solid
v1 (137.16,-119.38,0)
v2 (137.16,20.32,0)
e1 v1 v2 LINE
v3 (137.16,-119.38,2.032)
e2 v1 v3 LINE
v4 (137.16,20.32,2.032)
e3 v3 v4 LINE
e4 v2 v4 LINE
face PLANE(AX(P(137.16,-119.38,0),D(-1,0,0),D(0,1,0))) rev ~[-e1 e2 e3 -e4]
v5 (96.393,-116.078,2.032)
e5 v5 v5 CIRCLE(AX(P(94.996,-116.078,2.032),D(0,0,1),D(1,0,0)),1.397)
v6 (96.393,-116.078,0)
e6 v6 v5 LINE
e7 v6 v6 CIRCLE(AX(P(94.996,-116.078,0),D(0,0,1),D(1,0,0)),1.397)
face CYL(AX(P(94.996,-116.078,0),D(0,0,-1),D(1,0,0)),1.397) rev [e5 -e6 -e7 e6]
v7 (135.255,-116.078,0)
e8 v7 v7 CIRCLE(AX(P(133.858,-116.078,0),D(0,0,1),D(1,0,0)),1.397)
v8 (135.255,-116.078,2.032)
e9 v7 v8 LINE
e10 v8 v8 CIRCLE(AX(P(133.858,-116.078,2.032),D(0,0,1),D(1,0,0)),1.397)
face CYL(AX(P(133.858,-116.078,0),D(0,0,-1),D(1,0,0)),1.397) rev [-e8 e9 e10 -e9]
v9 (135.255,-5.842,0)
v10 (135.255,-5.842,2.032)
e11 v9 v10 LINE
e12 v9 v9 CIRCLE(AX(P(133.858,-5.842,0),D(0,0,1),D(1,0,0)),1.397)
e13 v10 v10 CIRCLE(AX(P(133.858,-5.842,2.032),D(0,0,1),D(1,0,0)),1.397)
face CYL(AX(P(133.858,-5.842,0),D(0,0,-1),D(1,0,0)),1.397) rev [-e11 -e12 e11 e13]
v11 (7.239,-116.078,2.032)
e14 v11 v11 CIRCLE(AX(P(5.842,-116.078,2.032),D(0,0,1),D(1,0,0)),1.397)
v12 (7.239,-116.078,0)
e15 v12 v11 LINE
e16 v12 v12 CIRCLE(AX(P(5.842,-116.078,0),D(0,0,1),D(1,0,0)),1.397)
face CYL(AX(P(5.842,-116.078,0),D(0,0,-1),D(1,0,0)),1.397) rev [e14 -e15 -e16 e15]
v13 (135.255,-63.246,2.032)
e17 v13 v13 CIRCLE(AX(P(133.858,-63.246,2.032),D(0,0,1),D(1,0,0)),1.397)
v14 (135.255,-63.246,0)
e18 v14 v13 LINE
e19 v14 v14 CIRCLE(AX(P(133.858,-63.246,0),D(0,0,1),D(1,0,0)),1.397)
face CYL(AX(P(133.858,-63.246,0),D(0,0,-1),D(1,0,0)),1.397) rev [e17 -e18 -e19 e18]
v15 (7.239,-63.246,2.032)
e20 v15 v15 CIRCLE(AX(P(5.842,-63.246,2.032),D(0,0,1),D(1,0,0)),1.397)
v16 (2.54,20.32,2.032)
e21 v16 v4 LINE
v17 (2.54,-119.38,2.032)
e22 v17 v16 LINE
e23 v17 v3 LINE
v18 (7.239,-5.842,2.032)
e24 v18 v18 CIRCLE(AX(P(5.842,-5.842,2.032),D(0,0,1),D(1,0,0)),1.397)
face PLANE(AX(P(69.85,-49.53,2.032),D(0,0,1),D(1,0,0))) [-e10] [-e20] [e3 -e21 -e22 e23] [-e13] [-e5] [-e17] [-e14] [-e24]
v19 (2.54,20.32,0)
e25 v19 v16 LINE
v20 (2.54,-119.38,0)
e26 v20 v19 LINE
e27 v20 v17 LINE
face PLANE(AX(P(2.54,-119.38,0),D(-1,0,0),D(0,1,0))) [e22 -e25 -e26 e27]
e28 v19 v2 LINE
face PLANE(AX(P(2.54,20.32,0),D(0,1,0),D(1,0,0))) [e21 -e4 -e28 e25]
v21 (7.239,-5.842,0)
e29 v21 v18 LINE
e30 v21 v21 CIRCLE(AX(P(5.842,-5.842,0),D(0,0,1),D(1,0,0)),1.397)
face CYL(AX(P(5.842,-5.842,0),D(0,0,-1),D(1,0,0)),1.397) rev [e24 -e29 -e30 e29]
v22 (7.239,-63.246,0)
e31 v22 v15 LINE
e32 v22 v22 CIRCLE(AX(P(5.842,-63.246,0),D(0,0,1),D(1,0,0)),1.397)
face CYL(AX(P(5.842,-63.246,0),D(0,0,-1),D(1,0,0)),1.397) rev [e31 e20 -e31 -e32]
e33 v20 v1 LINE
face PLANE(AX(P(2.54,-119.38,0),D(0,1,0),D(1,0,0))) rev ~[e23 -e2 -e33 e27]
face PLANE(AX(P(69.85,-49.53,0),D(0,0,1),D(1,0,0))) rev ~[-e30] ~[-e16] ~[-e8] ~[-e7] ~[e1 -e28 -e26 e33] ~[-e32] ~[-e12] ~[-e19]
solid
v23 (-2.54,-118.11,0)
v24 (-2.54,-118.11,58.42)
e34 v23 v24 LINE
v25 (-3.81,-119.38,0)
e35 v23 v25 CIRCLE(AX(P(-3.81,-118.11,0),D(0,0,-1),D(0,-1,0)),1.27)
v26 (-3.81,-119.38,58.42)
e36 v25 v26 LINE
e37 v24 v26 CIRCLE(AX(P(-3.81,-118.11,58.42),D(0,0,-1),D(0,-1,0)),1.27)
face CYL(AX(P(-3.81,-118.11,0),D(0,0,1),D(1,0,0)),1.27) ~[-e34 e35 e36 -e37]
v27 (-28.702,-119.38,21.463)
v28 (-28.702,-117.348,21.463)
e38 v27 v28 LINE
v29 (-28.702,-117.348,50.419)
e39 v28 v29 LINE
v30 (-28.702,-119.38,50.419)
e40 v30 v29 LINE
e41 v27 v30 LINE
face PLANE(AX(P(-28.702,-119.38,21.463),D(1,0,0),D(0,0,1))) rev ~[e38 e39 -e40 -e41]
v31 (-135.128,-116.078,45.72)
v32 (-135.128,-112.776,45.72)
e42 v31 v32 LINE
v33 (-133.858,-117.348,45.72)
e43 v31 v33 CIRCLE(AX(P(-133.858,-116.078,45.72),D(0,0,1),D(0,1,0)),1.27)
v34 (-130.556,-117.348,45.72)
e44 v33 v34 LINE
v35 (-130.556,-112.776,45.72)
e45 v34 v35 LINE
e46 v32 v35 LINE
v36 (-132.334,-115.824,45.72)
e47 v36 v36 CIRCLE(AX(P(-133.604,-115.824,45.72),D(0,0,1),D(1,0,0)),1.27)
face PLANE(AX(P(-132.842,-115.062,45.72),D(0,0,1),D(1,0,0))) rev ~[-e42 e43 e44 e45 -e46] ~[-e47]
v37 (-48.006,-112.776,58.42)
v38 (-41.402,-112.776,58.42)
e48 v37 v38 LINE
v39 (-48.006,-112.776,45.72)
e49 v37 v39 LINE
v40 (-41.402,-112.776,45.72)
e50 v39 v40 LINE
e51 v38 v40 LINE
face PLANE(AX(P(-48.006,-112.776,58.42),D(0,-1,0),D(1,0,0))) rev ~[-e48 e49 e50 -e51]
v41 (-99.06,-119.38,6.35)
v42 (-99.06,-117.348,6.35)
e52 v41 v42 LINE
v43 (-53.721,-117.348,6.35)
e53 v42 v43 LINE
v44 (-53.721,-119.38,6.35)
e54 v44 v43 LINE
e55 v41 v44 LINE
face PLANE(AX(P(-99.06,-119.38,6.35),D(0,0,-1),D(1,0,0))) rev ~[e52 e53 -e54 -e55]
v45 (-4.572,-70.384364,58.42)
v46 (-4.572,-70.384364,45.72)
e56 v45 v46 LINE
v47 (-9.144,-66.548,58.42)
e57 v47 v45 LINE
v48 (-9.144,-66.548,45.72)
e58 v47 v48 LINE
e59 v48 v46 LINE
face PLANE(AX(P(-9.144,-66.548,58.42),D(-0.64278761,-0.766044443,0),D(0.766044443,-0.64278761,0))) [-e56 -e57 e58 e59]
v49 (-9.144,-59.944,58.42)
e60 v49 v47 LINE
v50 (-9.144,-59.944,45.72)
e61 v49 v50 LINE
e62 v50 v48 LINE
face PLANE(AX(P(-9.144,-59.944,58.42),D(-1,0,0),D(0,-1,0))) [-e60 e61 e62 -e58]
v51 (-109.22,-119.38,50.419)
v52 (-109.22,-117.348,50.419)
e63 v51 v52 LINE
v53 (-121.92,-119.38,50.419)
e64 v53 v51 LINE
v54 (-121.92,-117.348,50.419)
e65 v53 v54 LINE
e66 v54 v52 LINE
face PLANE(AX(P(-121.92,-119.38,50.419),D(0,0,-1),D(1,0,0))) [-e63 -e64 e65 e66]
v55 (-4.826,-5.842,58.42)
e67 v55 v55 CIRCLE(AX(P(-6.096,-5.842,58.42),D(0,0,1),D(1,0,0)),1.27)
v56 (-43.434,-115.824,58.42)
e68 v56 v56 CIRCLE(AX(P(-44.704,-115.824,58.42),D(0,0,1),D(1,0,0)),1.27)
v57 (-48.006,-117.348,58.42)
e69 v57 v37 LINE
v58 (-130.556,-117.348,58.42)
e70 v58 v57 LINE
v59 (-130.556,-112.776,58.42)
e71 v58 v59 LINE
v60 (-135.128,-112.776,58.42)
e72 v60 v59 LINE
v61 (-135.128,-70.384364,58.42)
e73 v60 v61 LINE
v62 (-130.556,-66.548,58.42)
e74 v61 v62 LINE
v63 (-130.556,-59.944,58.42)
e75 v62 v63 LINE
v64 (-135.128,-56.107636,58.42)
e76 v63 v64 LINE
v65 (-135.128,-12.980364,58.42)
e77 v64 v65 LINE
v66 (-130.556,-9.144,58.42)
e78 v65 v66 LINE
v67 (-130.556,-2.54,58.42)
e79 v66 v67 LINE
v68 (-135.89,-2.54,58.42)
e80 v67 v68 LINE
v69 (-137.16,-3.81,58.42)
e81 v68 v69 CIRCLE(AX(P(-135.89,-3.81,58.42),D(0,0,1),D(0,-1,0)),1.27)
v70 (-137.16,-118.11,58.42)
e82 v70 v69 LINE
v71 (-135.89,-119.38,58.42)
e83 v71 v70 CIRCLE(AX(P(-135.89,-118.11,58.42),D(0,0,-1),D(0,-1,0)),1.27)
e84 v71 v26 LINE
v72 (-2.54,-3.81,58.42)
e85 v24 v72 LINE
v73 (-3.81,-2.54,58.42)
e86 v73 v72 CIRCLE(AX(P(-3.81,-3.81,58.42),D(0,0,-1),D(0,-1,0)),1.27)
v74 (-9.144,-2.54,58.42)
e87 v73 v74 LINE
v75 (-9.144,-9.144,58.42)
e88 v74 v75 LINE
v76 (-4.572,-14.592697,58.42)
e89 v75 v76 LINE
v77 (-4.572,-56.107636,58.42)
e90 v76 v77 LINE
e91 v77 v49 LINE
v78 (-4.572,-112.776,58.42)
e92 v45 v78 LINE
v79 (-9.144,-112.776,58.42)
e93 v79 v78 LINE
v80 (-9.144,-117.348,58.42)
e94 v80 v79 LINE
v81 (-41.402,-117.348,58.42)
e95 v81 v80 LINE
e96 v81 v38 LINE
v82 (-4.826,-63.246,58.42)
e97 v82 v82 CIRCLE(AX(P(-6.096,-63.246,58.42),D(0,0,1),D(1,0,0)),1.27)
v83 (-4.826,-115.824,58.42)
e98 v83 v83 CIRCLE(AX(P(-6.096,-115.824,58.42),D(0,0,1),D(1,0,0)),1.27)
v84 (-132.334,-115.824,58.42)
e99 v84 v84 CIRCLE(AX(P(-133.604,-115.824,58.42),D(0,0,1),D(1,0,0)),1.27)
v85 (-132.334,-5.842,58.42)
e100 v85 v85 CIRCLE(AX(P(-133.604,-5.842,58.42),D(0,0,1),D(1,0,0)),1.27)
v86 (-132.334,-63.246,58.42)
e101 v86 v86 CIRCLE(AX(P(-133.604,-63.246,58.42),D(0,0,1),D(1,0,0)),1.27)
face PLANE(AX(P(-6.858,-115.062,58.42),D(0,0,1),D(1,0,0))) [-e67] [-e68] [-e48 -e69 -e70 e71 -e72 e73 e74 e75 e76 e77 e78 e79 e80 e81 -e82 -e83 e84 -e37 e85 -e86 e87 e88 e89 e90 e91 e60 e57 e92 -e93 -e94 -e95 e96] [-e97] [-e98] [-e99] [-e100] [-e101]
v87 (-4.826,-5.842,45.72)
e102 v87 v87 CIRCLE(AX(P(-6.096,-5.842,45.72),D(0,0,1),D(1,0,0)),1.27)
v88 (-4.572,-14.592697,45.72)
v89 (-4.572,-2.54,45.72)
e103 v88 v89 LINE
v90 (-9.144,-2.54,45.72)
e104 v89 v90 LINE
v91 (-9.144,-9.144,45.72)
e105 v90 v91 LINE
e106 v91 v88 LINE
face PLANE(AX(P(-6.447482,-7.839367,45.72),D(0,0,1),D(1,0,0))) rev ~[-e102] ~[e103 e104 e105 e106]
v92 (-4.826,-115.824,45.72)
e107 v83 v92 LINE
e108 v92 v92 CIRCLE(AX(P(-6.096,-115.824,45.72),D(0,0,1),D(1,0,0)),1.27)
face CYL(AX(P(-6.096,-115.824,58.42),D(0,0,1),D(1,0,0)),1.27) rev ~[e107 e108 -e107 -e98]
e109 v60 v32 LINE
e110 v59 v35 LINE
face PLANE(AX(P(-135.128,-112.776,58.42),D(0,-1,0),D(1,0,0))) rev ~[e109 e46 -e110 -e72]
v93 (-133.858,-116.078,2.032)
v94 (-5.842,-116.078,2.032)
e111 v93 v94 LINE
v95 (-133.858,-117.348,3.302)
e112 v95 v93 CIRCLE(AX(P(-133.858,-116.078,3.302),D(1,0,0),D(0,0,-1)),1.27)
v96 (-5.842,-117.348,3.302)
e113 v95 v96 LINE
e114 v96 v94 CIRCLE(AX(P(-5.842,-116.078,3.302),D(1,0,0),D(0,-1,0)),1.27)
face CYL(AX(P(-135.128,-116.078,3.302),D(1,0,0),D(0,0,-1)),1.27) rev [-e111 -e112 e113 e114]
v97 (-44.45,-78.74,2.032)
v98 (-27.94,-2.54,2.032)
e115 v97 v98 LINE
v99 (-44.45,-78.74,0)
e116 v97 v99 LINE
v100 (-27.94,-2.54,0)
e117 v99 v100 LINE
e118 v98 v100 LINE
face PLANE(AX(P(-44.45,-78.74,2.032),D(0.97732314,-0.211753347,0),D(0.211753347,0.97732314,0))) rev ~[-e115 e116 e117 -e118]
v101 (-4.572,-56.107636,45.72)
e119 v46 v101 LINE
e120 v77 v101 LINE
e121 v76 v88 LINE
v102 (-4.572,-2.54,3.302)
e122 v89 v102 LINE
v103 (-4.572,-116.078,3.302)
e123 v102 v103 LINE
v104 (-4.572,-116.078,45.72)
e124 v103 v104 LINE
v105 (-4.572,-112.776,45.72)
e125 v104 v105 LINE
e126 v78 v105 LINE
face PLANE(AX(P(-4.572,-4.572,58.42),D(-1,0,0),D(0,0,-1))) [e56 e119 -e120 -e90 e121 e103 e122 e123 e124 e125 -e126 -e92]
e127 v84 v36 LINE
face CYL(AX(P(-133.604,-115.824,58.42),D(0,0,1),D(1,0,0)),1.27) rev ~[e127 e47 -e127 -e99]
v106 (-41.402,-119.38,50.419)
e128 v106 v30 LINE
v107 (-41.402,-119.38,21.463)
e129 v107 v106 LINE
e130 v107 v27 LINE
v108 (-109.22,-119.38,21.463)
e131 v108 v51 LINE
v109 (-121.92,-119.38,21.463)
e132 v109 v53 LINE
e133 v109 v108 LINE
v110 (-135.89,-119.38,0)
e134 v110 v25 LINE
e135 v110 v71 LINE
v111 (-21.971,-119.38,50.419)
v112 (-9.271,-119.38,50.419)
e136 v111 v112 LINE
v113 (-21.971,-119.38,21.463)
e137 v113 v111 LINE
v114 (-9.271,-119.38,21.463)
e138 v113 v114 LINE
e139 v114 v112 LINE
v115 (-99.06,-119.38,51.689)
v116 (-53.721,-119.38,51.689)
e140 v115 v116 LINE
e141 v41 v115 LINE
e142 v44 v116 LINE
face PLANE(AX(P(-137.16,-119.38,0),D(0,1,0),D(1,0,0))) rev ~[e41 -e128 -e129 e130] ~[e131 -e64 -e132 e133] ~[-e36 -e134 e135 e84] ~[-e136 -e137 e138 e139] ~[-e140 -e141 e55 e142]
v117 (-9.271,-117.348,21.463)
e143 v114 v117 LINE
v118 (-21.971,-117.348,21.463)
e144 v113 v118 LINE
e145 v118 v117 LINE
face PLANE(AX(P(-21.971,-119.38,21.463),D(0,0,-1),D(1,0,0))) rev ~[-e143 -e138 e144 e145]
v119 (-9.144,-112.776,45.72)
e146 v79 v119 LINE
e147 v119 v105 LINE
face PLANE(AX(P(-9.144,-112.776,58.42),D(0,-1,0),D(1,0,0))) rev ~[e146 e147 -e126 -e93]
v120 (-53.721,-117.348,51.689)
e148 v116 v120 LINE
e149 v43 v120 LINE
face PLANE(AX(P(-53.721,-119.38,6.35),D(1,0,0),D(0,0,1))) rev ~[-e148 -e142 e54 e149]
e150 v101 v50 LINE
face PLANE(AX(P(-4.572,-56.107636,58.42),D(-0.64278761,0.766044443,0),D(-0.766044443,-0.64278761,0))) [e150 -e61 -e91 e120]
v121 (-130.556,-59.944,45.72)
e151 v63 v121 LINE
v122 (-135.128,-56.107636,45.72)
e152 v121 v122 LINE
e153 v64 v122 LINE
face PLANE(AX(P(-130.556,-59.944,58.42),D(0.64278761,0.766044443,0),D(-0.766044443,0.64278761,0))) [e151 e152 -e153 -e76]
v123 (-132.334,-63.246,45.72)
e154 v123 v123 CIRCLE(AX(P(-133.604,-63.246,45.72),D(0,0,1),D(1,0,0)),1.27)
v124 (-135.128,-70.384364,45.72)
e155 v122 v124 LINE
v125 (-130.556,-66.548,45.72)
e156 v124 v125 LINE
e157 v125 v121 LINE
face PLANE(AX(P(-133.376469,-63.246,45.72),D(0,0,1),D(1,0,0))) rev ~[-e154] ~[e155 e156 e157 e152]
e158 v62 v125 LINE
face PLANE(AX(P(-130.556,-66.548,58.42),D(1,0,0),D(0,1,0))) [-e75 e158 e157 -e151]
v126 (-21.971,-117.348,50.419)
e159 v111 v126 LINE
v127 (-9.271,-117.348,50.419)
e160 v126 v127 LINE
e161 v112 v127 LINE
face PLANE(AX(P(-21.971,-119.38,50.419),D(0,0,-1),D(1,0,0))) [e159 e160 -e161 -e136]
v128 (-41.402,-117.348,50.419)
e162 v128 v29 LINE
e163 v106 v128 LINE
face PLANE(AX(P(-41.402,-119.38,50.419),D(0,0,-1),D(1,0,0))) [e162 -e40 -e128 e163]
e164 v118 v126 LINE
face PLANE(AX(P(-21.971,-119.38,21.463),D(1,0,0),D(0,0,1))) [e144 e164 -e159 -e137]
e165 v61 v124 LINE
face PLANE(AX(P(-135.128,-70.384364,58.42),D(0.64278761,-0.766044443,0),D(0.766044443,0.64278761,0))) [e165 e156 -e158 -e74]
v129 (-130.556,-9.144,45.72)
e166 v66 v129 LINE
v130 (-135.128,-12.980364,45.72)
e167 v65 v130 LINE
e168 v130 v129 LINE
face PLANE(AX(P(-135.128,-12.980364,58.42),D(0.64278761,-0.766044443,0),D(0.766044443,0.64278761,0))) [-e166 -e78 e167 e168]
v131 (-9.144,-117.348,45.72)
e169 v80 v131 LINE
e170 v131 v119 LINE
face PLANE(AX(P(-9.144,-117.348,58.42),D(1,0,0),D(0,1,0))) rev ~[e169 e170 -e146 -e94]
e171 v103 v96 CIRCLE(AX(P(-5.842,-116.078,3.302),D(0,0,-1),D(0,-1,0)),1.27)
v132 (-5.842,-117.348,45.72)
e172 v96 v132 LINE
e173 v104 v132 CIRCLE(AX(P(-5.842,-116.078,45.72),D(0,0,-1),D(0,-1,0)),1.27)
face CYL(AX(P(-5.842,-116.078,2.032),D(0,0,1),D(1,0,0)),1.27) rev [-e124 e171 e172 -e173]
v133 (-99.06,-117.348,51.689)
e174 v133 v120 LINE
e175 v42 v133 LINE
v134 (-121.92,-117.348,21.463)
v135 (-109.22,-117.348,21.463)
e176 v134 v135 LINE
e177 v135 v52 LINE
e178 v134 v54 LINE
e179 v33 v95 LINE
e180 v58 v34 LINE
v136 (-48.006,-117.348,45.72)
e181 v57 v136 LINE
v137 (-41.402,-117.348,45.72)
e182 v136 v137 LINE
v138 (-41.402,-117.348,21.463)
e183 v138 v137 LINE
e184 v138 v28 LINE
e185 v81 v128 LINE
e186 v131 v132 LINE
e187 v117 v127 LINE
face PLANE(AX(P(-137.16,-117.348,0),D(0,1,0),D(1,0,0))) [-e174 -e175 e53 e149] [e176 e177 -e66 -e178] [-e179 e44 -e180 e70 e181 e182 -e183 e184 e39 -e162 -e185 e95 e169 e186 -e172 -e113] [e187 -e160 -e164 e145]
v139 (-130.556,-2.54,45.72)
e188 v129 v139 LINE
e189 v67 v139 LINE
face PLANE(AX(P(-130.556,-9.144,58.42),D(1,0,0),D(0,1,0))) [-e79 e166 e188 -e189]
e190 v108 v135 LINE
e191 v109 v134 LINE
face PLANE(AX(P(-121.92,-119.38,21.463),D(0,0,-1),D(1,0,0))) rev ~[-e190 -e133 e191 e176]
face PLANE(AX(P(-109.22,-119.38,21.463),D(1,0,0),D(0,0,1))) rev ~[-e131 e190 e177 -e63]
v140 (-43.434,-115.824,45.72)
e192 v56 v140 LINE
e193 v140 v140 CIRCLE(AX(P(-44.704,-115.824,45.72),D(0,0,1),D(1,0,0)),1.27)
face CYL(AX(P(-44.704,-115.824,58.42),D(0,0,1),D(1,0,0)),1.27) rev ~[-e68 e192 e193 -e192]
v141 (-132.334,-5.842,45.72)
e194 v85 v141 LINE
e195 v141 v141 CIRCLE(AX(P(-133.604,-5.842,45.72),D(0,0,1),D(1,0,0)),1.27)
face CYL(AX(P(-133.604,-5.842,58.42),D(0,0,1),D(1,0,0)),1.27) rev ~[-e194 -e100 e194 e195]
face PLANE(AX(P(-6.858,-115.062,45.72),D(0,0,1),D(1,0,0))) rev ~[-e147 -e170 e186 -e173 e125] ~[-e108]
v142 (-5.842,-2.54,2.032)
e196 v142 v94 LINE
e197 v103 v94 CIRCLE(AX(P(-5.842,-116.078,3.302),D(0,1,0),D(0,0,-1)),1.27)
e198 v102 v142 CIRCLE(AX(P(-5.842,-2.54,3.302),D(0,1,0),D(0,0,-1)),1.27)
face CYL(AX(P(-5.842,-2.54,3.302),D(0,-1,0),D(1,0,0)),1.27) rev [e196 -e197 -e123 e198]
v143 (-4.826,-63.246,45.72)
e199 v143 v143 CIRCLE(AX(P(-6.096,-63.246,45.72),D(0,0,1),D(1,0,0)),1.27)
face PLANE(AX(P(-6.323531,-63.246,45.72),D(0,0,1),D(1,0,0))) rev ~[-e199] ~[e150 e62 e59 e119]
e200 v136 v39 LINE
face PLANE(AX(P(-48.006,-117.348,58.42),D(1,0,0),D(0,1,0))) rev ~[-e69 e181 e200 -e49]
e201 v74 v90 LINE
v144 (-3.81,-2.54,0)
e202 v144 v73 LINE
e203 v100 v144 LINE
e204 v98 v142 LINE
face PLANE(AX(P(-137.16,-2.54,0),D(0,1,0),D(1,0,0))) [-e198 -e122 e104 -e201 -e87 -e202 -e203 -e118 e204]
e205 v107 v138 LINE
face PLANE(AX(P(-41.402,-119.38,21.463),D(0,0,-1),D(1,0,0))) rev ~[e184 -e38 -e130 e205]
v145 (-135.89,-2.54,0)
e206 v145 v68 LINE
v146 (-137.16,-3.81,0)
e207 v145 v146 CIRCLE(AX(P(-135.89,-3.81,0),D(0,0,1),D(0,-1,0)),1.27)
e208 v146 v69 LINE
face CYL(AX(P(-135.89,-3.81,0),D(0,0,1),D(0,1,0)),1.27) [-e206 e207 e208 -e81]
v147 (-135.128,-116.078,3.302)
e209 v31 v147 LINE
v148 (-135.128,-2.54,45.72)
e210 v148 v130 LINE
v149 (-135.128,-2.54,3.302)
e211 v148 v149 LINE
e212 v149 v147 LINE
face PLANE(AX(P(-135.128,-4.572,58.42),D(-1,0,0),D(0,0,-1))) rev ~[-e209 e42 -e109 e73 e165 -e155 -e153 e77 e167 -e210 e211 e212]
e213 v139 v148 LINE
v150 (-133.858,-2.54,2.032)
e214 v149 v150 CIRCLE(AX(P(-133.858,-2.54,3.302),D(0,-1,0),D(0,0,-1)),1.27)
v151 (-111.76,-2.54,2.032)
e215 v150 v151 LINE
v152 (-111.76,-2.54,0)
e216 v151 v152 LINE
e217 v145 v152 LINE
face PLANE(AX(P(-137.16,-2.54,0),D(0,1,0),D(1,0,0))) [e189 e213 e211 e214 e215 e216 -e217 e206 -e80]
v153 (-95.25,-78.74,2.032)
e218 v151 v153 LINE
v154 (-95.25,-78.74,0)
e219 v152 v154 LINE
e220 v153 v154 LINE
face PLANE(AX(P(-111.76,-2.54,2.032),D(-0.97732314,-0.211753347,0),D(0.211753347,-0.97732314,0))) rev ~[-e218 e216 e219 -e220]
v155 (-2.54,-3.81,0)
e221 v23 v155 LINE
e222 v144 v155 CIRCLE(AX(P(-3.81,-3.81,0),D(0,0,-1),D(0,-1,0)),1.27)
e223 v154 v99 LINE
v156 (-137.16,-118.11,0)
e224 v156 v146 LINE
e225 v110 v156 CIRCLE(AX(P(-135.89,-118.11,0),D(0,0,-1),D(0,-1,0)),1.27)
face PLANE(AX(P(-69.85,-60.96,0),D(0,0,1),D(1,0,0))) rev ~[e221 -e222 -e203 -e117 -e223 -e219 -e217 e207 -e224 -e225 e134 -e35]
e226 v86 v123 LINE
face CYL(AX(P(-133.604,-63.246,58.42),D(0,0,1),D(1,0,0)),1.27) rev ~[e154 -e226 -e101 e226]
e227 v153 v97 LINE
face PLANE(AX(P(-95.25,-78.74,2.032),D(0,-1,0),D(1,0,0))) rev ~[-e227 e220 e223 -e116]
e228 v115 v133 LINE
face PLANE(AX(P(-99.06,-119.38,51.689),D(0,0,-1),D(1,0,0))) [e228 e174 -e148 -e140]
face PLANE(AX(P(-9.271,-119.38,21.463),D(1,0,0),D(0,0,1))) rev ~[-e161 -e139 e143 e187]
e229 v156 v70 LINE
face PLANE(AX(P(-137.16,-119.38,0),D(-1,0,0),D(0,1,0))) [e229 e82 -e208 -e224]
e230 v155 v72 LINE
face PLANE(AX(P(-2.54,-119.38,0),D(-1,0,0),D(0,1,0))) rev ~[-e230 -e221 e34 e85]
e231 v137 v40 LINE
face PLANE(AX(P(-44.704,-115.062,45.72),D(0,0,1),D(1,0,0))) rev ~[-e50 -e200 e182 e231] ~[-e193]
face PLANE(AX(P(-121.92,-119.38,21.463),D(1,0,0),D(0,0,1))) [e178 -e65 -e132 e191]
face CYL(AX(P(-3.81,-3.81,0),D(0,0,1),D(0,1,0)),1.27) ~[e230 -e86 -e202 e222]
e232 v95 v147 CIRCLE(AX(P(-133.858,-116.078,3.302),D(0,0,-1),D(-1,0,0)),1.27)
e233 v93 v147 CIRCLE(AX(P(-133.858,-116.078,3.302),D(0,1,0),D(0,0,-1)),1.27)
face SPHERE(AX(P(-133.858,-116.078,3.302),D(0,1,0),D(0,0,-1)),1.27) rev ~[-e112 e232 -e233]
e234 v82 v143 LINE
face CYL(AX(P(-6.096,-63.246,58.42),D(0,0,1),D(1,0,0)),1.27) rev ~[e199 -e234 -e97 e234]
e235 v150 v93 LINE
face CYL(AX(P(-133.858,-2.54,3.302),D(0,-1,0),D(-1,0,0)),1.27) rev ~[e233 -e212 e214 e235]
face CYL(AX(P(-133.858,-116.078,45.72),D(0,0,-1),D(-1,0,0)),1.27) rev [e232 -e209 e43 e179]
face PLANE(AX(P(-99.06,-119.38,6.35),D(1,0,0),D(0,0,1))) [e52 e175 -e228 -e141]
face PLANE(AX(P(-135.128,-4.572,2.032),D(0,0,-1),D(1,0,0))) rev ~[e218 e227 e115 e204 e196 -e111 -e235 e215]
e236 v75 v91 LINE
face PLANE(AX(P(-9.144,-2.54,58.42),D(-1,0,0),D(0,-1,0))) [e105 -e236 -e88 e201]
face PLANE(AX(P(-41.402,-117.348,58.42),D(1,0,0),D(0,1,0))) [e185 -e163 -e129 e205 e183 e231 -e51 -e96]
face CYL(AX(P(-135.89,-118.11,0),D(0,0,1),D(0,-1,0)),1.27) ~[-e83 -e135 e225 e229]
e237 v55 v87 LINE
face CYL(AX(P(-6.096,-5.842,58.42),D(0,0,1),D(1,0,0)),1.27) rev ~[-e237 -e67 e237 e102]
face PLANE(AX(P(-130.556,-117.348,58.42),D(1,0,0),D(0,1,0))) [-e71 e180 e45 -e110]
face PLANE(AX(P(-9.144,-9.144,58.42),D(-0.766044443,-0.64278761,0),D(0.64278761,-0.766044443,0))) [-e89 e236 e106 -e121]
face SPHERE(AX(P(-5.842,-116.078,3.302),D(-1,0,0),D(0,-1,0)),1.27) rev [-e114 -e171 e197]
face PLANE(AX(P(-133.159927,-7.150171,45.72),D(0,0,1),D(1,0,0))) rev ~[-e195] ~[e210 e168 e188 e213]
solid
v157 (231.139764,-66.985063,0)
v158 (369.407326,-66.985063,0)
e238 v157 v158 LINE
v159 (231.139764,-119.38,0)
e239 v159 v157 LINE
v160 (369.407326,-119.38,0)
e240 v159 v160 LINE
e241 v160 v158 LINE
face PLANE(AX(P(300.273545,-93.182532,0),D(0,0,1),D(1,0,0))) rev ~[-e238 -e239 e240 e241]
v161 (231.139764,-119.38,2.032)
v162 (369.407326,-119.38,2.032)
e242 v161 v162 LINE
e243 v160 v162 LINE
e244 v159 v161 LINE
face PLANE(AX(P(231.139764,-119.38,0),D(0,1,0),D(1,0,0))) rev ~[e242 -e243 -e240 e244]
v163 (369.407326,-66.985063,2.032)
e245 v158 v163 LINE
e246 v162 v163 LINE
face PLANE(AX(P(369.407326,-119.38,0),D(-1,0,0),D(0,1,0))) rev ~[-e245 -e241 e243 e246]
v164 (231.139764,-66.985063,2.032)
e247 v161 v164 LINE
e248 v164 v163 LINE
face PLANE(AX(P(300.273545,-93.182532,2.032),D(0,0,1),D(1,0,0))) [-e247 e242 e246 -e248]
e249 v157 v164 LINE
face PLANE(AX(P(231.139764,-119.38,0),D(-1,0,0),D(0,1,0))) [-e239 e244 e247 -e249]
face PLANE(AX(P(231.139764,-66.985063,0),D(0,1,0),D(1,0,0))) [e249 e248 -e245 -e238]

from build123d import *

# Parameters (mm, degrees)
F0_W      = 134.62
F0_H      = 116.84
F1_DEPTH  = 58.42
F2_T      = -2.032
F3_DEPTH  = 2.032
F4_W      = 45.339
F4_H      = 45.339
F4_W_2    = 12.7
F4_H_2    = 28.956
F5_DEPTH  = 2.032
F6_W      = 4.572
F6_H      = 4.572
F6_R      = 1.27
F6_W_2    = 6.604
F7_DEPTH  = 12.7
F8_W      = 134.62
F8_H      = 139.7
F8_R      = 1.397
F9_DEPTH  = 2.032
F8_W_2    = 138.2675617933
F8_H_2    = 52.3949367452
F10_R     = 1.27
F11_R     = 1.27
F13_DEPTH = 2.032


with BuildPart() as f1:
    # F0 (on Top) → F1 (new body)
    with BuildSketch(Plane.XY):
        with Locations((-69.85, -60.96)):
            Rectangle(F0_W, F0_H)
    extrude(amount=F1_DEPTH)

    # F2
    f2_openings = [f1.faces().sort_by_distance(p)[0] for p in [
        (-69.85, -60.96, 58.42),
    ]]
    offset(amount=F2_T, openings=f2_openings)

    # F3 (cut, through all): a face of the model
    f3_faces = [f1.faces().sort_by_distance(p)[0] for p in [
        (-69.85, -4.572, 30.226),
    ]]
    extrude(f3_faces, amount=-F3_DEPTH, mode=Mode.SUBTRACT)

    # F4 (on face) → F5 (cut, through all)
    with BuildSketch(Plane.XZ.offset(119.38)):
        with Locations((-76.3905, 29.0195)):
            Rectangle(F4_W, F4_H)
        with Locations((-35.052, 35.941)):
            Rectangle(F4_W_2, F4_H_2)
        with Locations((-15.621, 35.941)):
            Rectangle(F4_W_2, F4_H_2)
        with Locations((-115.57, 35.941)):
            Rectangle(F4_W_2, F4_H_2)
    extrude(amount=-F5_DEPTH, mode=Mode.SUBTRACT)

    # F6 (on face) → F7 (join)
    with BuildSketch(Plane.XY.offset(58.42)):
        with Locations((-6.858, -115.062)):
            Rectangle(F6_W, F6_H)
        with Locations((-6.096, -115.824)):
            Circle(F6_R, mode=Mode.SUBTRACT)
        with Locations((-132.842, -115.062)):
            Rectangle(F6_W, F6_H)
        with Locations((-133.604, -115.824)):
            Circle(F6_R, mode=Mode.SUBTRACT)
        Polygon((-9.144, -59.944), (-9.144, -66.548), (-4.572, -70.3843635137), (-4.572, -56.1076364863), align=None)
        with Locations((-6.096, -63.246)):
            Circle(F6_R, mode=Mode.SUBTRACT)
        Polygon((-135.128, -70.3843635137), (-130.556, -66.548), (-130.556, -59.944), (-135.128, -56.1076364863), align=None)
        with Locations((-133.604, -63.246)):
            Circle(F6_R, mode=Mode.SUBTRACT)
        Polygon((-4.572, -14.5926974254), (-4.572, -2.54), (-9.144, -2.54), (-9.144, -9.144), align=None)
        with Locations((-6.096, -5.842)):
            Circle(F6_R, mode=Mode.SUBTRACT)
        Polygon((-130.556, -2.54), (-135.128, -2.54), (-135.128, -12.9803635138), (-130.556, -9.144), align=None)
        with Locations((-133.604, -5.842)):
            Circle(F6_R, mode=Mode.SUBTRACT)
        with Locations((-44.704, -115.062)):
            Rectangle(F6_W_2, F6_H)
        with Locations((-44.704, -115.824)):
            Circle(F6_R, mode=Mode.SUBTRACT)
    extrude(amount=-F7_DEPTH)

    # F10
    f10_edges = [f1.edges().sort_by_distance(p)[0] for p in [
        (-137.16, -119.38, 29.21),
        (-137.16, -2.54, 29.21),
        (-2.54, -119.38, 29.21),
        (-2.54, -2.54, 29.21),
    ]]
    fillet(f10_edges, radius=F10_R)

    # F11
    f11_edges = [f1.edges().sort_by_distance(p)[0] for p in [
        (-135.128, -59.944, 2.032),
        (-69.85, -117.348, 2.032),
        (-135.128, -117.348, 23.876),
        (-4.572, -117.348, 23.876),
        (-4.572, -59.944, 2.032),
    ]]
    fillet(f11_edges, radius=F11_R)

    # F12 (on face) → F13 (cut, through all)
    with BuildSketch(Plane.XY.offset(2.032)):
        Polygon((-27.94, -2.54), (-111.76, -2.54), (-95.25, -78.74), (-44.45, -78.74), align=None)
    extrude(amount=-F13_DEPTH, mode=Mode.SUBTRACT)


with BuildPart() as f9:
    # F8 (on Top) → F9 (new body)
    with BuildSketch(Plane.XY):
        with Locations((69.85, -49.53)):
            Rectangle(F8_W, F8_H)
        with Locations((5.842, -116.078)):
            Circle(F8_R, mode=Mode.SUBTRACT)
        with Locations((94.996, -116.078)):
            Circle(F8_R, mode=Mode.SUBTRACT)
        with Locations((133.858, -116.078)):
            Circle(F8_R, mode=Mode.SUBTRACT)
        with Locations((5.842, -63.246)):
            Circle(F8_R, mode=Mode.SUBTRACT)
        with Locations((133.858, -63.246)):
            Circle(F8_R, mode=Mode.SUBTRACT)
        with Locations((5.842, -5.842)):
            Circle(F8_R, mode=Mode.SUBTRACT)
        with Locations((133.858, -5.842)):
            Circle(F8_R, mode=Mode.SUBTRACT)
    extrude(amount=F9_DEPTH)


with BuildPart() as f9b:
    # F8 (on Top) → F9, piece 2 (new body)
    with BuildSketch(Plane.XY):
        with Locations((300.2735450864, -93.1825316274)):
            Rectangle(F8_W_2, F8_H_2)
    extrude(amount=F9_DEPTH)


solid = Compound([f1.part, f9.part, f9b.part])
